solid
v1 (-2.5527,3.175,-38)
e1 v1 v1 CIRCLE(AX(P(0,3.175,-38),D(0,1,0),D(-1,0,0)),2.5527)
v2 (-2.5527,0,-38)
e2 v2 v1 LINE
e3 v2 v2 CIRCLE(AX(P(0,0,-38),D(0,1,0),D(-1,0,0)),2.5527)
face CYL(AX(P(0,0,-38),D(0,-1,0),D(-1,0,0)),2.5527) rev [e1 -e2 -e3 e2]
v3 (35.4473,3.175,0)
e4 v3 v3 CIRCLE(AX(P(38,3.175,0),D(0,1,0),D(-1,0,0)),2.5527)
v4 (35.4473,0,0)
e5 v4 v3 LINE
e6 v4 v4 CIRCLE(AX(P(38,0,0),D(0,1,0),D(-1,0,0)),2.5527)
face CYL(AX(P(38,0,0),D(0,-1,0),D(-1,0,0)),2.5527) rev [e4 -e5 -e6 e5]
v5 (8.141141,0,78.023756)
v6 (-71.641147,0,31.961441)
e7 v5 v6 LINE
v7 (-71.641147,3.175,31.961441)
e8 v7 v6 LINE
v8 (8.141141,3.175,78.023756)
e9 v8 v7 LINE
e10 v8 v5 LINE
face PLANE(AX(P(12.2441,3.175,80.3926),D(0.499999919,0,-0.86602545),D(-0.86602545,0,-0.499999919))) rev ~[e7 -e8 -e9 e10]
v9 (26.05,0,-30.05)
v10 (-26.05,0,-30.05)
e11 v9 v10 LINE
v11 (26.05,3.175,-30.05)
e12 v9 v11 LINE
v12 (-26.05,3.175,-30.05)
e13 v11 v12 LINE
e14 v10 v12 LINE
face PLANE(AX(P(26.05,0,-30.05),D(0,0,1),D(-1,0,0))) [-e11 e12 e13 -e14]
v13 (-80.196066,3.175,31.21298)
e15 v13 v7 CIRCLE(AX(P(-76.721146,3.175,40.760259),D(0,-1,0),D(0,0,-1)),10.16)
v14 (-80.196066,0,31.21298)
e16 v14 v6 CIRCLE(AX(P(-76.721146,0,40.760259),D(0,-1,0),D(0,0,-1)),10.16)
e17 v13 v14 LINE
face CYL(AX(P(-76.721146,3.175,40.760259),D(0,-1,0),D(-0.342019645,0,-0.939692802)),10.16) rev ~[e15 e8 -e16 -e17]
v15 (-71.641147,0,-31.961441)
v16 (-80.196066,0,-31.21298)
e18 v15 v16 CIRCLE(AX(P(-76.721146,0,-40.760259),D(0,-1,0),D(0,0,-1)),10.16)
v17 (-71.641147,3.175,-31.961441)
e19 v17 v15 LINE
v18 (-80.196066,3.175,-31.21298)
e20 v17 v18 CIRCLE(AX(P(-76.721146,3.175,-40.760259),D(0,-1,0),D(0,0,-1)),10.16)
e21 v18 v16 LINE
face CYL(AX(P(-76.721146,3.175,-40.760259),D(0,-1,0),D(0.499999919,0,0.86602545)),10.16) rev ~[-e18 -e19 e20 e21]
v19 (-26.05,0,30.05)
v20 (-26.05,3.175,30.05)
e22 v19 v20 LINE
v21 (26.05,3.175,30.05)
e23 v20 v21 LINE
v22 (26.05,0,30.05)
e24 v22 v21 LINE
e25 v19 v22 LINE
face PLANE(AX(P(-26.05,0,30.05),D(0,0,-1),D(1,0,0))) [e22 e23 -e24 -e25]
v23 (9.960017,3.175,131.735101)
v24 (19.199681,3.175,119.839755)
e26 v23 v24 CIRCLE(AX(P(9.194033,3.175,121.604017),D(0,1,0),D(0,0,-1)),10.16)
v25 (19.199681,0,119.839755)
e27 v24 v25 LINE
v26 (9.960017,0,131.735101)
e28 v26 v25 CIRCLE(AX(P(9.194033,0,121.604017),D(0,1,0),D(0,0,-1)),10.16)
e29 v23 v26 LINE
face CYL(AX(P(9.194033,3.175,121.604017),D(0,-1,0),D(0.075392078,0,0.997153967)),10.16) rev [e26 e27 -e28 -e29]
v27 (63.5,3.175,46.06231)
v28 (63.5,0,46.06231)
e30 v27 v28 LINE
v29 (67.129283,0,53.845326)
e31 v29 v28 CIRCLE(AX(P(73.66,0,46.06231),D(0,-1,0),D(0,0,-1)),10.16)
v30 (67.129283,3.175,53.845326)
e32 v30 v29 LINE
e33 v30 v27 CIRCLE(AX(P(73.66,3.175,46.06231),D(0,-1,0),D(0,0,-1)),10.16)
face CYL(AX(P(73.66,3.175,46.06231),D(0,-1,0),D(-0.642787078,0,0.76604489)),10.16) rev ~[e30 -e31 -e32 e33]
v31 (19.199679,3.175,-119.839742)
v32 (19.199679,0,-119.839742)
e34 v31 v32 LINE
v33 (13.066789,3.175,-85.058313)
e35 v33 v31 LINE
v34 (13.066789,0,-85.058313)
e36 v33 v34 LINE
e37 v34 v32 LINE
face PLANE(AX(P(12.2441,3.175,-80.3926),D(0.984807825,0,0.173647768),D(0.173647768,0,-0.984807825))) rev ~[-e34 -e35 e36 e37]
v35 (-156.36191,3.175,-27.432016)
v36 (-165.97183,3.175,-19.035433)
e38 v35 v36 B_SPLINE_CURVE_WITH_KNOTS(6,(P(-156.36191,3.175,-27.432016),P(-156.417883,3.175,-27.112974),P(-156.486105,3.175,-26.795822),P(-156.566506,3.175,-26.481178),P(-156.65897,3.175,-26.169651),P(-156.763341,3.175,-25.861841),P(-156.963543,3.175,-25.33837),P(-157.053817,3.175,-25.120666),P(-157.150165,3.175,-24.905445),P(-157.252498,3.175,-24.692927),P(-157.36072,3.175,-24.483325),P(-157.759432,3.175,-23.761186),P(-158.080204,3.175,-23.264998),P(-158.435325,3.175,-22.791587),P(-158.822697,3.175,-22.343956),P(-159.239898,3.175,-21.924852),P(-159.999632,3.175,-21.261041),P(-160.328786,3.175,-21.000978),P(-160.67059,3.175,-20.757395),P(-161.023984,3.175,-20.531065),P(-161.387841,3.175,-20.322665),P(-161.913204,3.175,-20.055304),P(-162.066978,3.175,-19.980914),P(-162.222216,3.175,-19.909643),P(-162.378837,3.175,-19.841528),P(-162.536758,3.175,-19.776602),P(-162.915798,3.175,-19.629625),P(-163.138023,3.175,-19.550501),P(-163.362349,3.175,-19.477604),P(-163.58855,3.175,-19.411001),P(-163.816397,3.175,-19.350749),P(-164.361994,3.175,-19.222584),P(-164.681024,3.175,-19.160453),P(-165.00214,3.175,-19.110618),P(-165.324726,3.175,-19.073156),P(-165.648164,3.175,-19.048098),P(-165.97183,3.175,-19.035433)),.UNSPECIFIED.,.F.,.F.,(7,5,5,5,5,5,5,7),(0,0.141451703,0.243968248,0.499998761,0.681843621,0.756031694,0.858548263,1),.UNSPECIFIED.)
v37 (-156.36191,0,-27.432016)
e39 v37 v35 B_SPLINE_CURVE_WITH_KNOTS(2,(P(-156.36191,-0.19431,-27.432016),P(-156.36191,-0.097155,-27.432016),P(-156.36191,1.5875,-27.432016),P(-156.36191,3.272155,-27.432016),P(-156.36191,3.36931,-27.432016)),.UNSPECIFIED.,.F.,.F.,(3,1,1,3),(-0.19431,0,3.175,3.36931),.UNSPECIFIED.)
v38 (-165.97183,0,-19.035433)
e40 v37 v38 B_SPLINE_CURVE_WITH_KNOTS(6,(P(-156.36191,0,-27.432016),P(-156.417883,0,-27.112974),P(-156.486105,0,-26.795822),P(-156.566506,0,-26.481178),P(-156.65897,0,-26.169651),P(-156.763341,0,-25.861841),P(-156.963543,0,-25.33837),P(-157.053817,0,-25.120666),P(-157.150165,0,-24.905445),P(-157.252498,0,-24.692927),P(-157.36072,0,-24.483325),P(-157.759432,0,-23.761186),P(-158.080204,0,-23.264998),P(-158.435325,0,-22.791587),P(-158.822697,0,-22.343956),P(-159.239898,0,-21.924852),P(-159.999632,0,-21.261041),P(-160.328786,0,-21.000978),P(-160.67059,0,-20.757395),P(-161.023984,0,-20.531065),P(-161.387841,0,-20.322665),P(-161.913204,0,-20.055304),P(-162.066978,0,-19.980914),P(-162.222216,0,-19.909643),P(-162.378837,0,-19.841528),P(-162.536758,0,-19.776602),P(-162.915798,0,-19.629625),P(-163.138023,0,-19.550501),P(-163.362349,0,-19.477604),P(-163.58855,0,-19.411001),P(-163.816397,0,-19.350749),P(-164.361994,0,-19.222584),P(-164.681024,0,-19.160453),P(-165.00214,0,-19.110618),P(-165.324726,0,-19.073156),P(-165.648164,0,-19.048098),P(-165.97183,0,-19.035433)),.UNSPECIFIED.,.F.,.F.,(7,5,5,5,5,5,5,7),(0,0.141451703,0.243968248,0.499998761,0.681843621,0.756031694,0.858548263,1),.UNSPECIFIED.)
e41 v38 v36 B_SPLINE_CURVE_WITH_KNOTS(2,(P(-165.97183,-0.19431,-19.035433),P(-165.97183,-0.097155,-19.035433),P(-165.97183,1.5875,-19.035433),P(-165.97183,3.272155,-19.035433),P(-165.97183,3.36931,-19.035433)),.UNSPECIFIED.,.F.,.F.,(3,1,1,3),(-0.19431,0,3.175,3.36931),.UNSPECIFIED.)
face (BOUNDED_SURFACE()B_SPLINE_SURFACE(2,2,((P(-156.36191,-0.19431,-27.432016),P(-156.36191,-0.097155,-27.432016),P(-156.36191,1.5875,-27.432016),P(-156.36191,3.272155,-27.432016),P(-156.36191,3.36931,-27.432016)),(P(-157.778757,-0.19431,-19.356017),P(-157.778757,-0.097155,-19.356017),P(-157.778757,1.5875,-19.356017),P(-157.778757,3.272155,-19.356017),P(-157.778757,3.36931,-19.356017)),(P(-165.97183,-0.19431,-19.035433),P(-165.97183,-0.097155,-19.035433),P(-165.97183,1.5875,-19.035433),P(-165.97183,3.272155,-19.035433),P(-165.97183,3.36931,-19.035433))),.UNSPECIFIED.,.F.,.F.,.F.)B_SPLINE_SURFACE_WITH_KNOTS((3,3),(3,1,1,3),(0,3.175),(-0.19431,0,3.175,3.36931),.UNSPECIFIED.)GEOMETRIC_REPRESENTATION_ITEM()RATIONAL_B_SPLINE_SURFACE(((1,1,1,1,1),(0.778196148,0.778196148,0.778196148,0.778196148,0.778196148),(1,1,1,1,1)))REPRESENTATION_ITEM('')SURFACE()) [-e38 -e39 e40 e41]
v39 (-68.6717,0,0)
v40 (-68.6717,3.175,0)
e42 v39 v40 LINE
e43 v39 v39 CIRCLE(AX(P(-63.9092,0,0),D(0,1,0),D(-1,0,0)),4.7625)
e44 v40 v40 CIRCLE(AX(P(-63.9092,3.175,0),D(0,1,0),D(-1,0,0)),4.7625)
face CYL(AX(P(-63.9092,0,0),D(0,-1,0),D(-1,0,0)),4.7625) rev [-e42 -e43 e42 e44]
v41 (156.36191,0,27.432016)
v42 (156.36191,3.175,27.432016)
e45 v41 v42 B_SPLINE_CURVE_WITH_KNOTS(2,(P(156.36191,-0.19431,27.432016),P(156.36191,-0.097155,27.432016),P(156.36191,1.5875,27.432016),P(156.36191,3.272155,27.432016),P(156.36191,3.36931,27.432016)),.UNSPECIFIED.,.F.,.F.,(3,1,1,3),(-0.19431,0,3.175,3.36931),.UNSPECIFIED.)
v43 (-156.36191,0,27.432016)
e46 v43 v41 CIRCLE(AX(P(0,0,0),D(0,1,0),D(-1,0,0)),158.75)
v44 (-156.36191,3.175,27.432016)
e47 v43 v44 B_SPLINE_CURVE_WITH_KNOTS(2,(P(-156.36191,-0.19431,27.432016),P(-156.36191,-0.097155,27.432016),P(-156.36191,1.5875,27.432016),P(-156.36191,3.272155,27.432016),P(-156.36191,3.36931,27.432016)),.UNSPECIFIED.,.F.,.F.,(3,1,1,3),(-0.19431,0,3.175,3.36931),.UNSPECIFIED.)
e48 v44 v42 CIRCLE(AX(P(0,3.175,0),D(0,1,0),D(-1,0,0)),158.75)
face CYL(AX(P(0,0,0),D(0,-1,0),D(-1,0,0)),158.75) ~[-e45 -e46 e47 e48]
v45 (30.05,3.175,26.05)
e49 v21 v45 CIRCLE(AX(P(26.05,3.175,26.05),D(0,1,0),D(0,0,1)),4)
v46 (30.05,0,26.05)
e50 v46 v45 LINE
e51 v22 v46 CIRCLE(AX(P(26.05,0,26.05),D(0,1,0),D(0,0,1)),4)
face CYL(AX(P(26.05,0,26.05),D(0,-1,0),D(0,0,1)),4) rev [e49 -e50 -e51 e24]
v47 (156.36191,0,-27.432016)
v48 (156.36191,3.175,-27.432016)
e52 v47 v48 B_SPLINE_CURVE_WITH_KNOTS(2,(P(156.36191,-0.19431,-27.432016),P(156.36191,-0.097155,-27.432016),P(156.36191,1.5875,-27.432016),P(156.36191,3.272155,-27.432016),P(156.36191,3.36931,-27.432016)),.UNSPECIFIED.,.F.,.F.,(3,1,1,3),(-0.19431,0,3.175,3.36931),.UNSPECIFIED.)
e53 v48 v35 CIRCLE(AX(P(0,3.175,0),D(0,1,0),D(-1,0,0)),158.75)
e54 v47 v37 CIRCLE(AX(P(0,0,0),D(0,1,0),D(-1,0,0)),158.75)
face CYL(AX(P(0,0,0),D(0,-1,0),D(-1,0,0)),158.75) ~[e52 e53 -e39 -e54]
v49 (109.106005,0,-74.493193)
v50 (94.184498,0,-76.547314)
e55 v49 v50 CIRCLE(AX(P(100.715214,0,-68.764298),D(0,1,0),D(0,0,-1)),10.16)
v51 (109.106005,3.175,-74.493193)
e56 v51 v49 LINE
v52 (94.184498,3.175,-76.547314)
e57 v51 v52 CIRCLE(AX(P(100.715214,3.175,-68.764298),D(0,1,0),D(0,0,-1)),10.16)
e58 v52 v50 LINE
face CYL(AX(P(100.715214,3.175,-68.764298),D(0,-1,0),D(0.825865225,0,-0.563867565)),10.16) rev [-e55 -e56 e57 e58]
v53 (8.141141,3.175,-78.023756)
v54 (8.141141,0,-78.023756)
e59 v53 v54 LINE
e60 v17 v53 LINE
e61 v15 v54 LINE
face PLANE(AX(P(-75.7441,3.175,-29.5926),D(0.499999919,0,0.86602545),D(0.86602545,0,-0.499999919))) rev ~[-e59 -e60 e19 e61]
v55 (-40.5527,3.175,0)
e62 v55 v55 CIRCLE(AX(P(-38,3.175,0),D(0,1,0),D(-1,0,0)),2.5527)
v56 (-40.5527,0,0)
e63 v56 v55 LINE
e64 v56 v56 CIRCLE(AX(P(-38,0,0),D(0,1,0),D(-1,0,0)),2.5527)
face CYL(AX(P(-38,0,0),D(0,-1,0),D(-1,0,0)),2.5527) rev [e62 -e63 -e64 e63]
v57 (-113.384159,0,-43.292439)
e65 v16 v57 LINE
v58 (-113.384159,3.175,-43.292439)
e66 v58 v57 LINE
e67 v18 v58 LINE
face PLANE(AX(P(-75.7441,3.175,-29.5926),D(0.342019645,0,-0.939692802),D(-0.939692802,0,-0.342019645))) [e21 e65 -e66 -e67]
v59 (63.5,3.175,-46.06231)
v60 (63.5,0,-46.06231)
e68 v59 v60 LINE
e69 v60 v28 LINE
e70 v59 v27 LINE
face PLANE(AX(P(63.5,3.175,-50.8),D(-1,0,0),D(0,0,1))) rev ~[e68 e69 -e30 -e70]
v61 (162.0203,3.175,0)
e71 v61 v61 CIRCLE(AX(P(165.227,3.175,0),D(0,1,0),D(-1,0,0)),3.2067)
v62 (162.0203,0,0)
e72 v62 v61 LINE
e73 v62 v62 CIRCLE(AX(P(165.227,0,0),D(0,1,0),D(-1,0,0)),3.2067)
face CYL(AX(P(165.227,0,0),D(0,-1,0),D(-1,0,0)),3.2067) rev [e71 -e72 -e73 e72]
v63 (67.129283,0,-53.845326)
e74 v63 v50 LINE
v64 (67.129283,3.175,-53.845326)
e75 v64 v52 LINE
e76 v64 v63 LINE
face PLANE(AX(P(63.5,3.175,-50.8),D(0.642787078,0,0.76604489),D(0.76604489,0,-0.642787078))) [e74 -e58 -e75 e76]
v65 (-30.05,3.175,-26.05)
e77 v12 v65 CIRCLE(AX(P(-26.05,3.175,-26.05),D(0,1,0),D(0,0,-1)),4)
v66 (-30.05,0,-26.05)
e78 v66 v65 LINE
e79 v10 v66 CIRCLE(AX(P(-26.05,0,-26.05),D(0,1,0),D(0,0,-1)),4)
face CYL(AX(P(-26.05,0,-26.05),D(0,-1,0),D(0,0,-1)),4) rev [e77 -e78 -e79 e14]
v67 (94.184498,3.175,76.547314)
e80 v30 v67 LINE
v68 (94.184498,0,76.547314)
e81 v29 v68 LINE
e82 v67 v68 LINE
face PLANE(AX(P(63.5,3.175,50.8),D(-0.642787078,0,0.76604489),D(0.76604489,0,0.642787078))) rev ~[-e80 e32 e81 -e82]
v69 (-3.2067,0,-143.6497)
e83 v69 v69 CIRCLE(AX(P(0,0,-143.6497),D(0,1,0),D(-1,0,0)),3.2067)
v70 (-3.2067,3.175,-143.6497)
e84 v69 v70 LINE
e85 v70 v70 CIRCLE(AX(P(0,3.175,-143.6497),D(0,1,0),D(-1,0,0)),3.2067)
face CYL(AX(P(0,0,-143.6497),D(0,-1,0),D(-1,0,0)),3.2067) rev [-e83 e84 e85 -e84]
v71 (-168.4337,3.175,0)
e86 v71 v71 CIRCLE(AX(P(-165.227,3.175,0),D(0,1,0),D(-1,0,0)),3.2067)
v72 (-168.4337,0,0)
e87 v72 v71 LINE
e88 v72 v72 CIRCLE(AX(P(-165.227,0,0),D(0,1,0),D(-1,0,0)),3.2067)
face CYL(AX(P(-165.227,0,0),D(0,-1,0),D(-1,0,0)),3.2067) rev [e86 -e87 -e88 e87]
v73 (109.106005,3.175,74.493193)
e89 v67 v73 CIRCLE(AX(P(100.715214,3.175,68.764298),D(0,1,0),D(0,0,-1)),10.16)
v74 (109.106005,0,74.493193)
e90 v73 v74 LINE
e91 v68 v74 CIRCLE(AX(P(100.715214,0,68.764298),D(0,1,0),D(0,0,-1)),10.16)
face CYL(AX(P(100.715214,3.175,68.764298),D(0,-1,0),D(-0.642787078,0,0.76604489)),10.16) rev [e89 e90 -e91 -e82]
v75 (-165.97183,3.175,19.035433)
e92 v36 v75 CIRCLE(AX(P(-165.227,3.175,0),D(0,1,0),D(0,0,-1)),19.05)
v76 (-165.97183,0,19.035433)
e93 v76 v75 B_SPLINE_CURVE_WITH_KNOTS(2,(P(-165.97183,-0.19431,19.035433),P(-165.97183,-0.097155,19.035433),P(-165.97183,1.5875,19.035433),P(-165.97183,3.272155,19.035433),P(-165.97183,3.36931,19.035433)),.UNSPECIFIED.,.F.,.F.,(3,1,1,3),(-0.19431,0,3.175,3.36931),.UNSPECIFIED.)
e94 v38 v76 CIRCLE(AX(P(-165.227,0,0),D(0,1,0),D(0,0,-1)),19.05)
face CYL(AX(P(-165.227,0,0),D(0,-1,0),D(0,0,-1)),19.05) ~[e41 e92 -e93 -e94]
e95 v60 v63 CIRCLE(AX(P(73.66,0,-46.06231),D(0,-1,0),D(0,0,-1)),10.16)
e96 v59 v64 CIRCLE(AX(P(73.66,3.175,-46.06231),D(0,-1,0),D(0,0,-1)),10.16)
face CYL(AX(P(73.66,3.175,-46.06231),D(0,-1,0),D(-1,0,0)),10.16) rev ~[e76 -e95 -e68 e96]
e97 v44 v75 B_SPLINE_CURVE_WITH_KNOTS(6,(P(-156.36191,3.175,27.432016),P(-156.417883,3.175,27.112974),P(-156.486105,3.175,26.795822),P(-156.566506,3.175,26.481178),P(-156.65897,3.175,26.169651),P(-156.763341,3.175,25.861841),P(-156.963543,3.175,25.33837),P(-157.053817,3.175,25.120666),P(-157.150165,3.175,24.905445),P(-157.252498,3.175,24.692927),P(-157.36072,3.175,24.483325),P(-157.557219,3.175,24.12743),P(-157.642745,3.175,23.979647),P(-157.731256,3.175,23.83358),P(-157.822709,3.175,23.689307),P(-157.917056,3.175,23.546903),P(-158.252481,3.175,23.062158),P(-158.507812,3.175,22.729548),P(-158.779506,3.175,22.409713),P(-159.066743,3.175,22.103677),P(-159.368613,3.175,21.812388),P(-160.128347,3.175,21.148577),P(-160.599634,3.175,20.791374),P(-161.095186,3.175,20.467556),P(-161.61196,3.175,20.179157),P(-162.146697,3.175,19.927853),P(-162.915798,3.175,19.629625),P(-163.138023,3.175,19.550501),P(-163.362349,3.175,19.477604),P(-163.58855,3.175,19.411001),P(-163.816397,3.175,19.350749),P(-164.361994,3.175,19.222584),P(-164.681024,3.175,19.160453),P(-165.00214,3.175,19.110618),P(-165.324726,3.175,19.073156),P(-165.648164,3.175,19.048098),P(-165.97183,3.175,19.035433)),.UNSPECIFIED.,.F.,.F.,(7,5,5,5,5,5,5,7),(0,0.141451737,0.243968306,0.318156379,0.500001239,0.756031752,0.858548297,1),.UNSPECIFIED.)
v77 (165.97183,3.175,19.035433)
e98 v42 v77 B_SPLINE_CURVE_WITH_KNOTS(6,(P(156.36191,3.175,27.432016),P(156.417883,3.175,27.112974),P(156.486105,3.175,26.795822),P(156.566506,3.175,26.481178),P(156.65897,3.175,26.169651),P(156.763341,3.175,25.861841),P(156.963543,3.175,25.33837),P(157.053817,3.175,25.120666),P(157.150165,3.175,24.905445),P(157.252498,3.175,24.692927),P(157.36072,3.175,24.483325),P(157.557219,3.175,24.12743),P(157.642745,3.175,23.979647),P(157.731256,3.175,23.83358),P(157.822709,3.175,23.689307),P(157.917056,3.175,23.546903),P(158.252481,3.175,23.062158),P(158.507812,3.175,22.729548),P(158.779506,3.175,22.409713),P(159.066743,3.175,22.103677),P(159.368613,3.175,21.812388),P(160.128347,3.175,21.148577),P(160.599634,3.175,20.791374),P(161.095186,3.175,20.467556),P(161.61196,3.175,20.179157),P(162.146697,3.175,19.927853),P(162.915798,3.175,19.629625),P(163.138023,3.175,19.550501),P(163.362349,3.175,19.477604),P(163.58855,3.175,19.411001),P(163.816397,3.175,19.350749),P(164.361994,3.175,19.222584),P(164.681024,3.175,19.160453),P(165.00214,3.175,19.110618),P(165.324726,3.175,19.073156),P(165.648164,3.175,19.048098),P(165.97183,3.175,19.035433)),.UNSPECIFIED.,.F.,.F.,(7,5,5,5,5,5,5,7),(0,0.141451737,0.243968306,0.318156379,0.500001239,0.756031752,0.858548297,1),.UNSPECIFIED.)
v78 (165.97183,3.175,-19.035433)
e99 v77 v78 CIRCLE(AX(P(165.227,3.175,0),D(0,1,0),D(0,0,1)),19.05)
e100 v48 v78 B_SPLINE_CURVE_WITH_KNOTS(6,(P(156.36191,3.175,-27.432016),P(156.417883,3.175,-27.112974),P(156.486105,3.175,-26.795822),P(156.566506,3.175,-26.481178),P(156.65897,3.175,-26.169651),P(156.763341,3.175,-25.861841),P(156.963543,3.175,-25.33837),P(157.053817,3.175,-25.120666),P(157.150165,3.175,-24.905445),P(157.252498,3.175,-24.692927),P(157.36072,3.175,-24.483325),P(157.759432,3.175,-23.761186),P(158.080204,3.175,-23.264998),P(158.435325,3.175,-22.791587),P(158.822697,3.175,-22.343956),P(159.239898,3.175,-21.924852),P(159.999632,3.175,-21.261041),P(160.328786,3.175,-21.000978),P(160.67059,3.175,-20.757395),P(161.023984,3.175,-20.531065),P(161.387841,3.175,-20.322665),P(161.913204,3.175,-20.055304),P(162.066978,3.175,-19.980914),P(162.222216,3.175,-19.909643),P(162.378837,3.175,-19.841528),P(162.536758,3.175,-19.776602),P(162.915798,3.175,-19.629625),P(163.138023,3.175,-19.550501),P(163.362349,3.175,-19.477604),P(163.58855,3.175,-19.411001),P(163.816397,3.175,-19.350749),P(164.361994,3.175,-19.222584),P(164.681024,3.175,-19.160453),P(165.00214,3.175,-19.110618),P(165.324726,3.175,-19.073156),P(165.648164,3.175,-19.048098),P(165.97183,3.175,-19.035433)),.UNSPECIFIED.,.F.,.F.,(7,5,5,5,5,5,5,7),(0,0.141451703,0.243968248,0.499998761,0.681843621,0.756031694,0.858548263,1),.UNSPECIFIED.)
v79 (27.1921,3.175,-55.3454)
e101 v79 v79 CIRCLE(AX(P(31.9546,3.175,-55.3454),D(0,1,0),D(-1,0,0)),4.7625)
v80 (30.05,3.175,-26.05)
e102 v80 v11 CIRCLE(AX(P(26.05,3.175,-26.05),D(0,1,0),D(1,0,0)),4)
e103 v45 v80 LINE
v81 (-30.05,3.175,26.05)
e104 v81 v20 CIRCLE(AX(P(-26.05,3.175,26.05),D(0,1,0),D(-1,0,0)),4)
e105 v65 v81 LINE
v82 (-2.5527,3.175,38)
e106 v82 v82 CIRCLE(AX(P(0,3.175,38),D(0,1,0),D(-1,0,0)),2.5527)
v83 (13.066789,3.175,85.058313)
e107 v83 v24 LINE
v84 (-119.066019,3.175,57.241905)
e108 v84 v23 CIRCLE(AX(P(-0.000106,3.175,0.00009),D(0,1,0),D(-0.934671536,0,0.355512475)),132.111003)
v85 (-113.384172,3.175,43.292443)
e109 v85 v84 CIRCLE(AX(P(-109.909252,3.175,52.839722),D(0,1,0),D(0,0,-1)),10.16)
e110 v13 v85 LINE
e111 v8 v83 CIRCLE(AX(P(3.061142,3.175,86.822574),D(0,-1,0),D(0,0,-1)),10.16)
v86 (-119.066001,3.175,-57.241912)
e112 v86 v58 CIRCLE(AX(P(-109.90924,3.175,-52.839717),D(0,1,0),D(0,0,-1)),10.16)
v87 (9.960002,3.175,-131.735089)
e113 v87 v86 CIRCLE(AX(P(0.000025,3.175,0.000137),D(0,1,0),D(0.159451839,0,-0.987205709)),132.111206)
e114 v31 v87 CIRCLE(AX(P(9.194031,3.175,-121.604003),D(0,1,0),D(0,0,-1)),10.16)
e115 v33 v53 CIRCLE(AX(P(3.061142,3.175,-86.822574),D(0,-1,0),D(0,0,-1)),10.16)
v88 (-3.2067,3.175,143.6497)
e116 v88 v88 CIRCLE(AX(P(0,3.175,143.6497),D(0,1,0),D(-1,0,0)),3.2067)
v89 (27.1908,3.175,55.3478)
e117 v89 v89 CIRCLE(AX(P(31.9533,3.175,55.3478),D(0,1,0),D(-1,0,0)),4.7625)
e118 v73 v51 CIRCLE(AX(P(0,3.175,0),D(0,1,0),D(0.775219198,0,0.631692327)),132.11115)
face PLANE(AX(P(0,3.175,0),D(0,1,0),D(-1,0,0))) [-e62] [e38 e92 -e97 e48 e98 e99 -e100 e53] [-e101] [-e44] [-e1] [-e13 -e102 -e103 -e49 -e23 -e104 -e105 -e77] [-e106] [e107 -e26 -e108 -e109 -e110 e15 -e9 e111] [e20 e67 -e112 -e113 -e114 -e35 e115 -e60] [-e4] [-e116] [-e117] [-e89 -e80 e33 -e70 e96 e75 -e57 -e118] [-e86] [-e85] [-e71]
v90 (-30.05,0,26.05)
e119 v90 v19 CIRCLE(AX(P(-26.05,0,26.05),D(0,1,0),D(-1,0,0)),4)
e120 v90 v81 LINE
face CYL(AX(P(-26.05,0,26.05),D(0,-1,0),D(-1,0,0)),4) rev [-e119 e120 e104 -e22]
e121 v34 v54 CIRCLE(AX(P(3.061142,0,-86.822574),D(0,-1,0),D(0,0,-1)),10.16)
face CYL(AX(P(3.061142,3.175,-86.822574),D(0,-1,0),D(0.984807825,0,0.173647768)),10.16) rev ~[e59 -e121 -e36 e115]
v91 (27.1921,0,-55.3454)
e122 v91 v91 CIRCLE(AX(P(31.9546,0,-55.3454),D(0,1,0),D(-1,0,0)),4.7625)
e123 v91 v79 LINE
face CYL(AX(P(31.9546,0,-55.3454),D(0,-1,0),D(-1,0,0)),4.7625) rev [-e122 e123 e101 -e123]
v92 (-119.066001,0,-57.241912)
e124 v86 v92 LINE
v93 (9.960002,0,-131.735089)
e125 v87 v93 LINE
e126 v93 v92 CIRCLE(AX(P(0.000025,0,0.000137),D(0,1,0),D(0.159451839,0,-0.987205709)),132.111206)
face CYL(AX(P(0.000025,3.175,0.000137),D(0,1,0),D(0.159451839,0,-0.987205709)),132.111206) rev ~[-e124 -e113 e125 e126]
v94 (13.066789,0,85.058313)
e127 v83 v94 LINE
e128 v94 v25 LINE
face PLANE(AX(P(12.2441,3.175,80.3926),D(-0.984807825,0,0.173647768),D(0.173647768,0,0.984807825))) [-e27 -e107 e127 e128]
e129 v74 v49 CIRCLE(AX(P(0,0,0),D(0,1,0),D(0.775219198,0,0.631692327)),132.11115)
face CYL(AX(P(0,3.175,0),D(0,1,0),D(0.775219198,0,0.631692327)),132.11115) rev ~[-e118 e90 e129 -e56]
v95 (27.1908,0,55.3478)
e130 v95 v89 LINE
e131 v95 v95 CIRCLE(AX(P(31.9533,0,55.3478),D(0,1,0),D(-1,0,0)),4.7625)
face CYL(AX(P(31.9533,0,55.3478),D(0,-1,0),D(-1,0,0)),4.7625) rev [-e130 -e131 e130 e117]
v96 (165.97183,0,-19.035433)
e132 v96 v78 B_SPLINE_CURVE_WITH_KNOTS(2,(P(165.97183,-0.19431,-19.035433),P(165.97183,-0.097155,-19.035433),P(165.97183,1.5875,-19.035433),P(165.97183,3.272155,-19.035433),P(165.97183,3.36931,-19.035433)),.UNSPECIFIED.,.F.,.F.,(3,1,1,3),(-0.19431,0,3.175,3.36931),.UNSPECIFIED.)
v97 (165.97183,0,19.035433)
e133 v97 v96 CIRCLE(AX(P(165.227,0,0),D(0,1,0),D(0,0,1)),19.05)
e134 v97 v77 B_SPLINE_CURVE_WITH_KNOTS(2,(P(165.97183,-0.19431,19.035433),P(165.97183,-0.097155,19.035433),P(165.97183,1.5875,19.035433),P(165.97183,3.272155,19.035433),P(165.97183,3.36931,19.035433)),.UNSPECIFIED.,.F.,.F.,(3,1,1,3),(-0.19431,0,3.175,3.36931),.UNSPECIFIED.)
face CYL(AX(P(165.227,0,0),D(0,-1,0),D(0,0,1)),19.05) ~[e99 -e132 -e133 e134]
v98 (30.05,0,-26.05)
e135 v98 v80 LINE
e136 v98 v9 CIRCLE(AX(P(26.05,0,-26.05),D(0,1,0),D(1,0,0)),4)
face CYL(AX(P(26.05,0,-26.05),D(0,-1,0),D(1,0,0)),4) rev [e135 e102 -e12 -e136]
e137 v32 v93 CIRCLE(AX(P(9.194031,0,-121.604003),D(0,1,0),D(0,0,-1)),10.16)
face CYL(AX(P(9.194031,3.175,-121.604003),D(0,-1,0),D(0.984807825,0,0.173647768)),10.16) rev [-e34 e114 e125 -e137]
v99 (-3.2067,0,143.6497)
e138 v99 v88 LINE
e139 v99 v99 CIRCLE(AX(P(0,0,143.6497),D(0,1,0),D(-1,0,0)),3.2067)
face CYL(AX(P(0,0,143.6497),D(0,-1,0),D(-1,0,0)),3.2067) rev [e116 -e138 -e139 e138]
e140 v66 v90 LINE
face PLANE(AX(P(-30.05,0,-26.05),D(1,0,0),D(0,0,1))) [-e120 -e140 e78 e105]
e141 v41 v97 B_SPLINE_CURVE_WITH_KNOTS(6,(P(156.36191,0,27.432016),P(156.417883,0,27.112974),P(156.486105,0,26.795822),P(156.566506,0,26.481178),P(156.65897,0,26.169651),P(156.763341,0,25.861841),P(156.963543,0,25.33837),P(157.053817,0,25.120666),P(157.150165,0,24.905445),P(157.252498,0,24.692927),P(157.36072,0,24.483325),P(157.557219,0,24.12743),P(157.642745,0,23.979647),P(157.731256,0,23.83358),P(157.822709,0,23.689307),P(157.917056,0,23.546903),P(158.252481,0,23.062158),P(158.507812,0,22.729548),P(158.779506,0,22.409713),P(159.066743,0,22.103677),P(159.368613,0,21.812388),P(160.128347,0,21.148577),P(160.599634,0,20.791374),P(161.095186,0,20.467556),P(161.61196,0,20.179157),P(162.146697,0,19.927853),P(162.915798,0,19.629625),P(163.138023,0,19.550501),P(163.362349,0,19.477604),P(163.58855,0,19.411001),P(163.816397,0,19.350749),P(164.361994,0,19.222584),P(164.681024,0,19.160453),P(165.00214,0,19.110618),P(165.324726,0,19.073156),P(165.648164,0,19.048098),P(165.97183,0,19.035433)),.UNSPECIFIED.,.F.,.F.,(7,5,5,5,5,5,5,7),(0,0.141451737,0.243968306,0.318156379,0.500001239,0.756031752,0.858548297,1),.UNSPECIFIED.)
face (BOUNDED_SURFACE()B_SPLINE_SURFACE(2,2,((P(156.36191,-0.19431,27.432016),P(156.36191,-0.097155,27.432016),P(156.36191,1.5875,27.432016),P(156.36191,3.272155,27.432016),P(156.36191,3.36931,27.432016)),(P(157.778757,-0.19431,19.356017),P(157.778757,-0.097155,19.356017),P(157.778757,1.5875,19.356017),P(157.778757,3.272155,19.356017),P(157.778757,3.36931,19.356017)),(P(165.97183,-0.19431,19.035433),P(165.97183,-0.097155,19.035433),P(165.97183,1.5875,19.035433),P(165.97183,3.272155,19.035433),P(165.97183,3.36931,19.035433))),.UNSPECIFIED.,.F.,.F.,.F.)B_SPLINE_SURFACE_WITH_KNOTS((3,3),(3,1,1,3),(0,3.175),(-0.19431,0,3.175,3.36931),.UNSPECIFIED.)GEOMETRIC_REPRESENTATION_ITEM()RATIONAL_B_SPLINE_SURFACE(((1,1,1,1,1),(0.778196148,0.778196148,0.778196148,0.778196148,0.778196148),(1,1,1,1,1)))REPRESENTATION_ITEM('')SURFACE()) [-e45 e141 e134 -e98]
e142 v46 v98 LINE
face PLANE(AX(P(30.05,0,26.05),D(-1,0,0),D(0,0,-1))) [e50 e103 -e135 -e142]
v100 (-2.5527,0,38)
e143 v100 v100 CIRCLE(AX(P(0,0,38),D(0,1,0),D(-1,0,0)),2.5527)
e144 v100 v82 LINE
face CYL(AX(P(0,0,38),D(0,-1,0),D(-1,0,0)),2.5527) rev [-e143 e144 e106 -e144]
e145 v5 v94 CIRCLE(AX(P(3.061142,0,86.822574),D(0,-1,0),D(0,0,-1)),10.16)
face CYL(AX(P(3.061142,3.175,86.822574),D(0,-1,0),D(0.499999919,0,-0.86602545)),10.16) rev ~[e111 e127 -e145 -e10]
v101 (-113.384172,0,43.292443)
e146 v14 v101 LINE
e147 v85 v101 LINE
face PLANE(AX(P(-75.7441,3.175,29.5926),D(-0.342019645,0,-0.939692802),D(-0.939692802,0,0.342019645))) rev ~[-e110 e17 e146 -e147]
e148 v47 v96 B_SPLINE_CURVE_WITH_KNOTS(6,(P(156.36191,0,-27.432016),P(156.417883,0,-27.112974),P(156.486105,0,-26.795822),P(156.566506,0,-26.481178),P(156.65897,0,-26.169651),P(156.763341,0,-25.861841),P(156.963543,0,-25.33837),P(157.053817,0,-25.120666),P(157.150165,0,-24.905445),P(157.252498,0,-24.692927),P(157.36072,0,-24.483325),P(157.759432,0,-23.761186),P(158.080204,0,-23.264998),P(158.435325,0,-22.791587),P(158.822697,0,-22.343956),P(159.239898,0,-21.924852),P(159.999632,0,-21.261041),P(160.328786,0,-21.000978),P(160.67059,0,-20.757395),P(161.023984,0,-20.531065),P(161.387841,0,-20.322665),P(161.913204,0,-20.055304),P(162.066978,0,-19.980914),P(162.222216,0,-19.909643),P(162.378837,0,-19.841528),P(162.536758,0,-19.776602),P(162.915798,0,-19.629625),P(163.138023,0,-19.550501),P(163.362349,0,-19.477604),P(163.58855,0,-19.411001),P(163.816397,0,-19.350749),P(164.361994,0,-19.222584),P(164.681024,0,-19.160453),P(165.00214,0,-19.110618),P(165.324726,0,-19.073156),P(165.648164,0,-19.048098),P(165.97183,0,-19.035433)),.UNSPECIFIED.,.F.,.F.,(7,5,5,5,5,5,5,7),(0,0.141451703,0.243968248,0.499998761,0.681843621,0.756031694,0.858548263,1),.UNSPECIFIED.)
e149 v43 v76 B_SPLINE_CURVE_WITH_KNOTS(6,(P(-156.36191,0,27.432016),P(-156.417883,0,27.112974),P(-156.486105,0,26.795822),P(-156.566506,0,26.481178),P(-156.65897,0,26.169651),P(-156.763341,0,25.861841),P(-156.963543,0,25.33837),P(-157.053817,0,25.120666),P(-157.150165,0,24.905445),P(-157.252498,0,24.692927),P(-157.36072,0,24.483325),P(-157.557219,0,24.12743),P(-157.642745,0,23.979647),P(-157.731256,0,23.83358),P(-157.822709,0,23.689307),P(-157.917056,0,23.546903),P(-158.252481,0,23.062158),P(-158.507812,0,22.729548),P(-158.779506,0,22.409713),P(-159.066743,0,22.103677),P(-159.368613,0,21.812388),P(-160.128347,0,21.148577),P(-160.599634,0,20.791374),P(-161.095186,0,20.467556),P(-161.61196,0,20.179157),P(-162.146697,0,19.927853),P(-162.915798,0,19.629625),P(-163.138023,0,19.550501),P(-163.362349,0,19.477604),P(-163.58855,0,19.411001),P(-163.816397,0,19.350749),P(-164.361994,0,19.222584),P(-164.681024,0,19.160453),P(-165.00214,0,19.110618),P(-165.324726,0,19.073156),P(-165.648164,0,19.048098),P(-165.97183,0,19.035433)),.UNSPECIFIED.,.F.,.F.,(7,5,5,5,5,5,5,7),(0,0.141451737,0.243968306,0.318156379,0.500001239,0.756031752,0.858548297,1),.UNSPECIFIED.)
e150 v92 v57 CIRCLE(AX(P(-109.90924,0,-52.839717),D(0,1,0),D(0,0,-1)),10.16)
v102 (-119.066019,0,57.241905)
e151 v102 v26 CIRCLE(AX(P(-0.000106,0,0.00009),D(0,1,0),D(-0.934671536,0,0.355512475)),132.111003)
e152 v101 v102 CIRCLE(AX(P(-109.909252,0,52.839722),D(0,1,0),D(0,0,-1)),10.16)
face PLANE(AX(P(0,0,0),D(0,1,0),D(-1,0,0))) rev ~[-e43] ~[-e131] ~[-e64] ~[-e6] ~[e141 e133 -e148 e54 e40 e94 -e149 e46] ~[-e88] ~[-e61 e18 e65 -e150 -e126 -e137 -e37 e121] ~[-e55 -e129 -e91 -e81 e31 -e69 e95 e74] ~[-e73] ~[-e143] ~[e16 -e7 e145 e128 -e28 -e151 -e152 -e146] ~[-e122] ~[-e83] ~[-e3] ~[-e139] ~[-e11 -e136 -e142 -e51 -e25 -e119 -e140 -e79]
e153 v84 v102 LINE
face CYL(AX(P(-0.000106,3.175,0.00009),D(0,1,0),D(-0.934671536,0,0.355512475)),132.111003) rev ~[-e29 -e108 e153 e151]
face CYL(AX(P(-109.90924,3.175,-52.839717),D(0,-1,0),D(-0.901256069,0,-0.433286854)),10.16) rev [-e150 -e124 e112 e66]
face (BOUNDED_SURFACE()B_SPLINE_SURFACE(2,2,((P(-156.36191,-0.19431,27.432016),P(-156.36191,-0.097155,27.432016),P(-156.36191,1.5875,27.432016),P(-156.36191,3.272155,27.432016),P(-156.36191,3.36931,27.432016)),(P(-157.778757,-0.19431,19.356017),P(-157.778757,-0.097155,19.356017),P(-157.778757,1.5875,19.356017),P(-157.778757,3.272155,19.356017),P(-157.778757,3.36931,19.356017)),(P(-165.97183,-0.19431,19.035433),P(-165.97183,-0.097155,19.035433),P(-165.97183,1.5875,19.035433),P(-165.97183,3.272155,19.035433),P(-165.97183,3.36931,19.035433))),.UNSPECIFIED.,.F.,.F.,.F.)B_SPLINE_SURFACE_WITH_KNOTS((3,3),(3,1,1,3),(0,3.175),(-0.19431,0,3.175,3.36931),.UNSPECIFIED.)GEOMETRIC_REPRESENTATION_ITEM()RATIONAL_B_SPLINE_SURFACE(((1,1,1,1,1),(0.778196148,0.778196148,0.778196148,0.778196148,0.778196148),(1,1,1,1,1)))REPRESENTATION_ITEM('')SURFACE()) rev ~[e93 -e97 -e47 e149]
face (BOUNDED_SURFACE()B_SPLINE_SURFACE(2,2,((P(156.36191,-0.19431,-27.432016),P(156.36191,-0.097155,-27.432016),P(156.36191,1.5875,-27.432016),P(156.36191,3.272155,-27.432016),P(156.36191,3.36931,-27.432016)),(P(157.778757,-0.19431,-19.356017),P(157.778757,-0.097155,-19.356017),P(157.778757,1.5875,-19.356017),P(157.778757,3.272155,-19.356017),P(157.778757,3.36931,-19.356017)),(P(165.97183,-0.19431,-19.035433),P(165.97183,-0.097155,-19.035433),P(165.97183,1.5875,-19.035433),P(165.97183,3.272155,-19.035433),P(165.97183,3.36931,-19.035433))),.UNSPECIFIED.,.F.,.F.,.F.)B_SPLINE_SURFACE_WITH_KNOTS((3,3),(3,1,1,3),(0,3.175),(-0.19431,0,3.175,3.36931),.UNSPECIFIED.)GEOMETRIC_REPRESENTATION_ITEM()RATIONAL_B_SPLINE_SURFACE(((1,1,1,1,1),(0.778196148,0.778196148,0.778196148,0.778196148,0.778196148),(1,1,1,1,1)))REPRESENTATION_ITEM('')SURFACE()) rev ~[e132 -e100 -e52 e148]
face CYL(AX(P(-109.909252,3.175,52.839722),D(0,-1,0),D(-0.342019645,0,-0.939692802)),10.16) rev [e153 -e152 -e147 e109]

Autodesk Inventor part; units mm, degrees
ref_plane "YZ Plane" through (0, 0, 0) normal (1, 0, 0) x (0, 1, 0)
ref_plane "XZ Plane" through (0, 0, 0) normal (0, 1, 0) x (-1, 0, 0)
ref_plane "XY Plane" through (0, 0, 0) normal (0, 0, 1) x (1, 0, 0)
sketch "Sketch1" plane through (0, 0, 0) normal (0, 1, 0) x (-1, 0, 0)
  circle A0 centre (0, 0) radius 158.75
  line L0 (26.05, 30.05) -> (-26.05, 30.05)
  line L1 (-30.05, 26.05) -> (-30.05, -26.05)
  line L2 (-26.05, -30.05) -> (26.05, -30.05)
  line L3 (30.05, -26.05) -> (30.05, 26.05)
  arc A1 (30.05, 26.05) -> (26.05, 30.05) centre (26.05, 26.05) ccw
  arc A2 (26.05, -30.05) -> (30.05, -26.05) centre (26.05, -26.05) ccw
  arc A3 (-30.05, -26.05) -> (-26.05, -30.05) centre (-26.05, -26.05) ccw
  arc A4 (-26.05, 30.05) -> (-30.05, 26.05) centre (-26.05, 26.05) ccw
  circle A5 centre (38, 0) radius 2.5527
  circle A6 centre (0, -38) radius 2.5527
  circle A7 centre (-38, 0) radius 2.5527
  circle A8 centre (0, 38) radius 2.5527
  circle A9 centre (63.9092, 0) radius 4.7625
  circle A10 centre (-31.9546, -55.3454) radius 4.7625
  circle A11 centre (0, 0) radius 63.9092 construction
  circle A12 centre (0, 143.6497) radius 3.2067
  circle A13 centre (0, -143.6497) radius 3.2067
  line L4 (157.6029, 19.05) -> (165.227, 19.05)
  line L5 (165.227, 19.05) -> (165.227, -19.05) construction
  line L6 (165.227, -19.05) -> (157.6029, -19.05)
  line L7 (157.6029, -17.4578) -> (157.6029, 19.05) construction
  arc A14 (165.227, -19.05) -> (165.227, 19.05) centre (165.227, 0) ccw
  circle A15 centre (165.227, 0) radius 3.2067
  line L8 (0, -158.75) -> (0, 158.75) construction
  line L9 (-157.6029, 19.05) -> (-165.227, 19.05)
  line L10 (-165.227, -19.05) -> (-157.6029, -19.05)
  arc A16 (-165.227, 19.05) -> (-165.227, -19.05) centre (-165.227, 0) ccw
  circle A17 centre (-165.227, 0) radius 3.2067
  circle A18 centre (-31.9533, 55.3478) radius 4.7625
  point P0 (30.05, 30.05)
  point P1 (-30.05, 30.05)
  point P2 (30.05, -30.05)
  dimension "d0" = 317.5
  dimension "d1" = 30.05
  dimension "d2" = 60.1
  dimension "d3" = 60.1
  dimension "d4" = 30.05
  dimension "d5" = 4
  dimension "d6" = 4
  dimension "d7" = 5.1054
  dimension "d8" = 5.1054
  dimension "d9" = 5.1054
  dimension "d10" = 5.1054
  dimension "d11" = 76
  dimension "d12" = 38
  dimension "d13" = 76
  dimension "d14" = 38
  dimension "d15" = 9.525
  dimension "d17" = 110.6932
  dimension "d20" = 9.525
  dimension "d24" = 6.4135
  dimension "d25" = 6.4135
  dimension "d26" = 287.2994
  dimension "d27" = 143.6497
  dimension "d30" = 38.1
  dimension "d31" = 6.4135
  dimension "d33" = 330.454
  dimension "d38" = 110.6932
  dimension "d39" = 110.6932
  dimension "d41" = 127.8184
extrude "Extrusion1" add sketch "Sketch1" along normal blind 3.175
fillet "Fillet1" radius 10.16 4 edges at (-157.6029, 1.5875, 19.05) (-157.6029, 1.5875, -19.05) (157.6029, 1.5875, -19.05) (157.6029, 1.5875, 19.05)
sketch "Sketch2" plane through (0, 3.175, 0) normal (0, 1, 0) x (1, 0, 0)
  line L0 (63.5, 50.8) -> (102.4151, 83.4536)
  line L1 (63.5, 50.8) -> (63.5, -50.8)
  line L2 (63.5, -50.8) -> (102.4151, -83.4536)
  arc A0 (102.4151, -83.4536) -> (102.4151, 83.4536) centre (0, 0) ccw
  line L3 (-75.7441, 29.5926) -> (-123.4805, 46.9672)
  line L4 (12.2441, 80.3926) -> (21.0654, 130.4208)
  line L5 (-75.7441, 29.5926) -> (12.2441, 80.3926)
  arc A1 (21.0654, 130.4208) -> (-123.4805, 46.9672) centre (0, 0) ccw
  line L6 (12.2441, -80.3926) -> (21.0654, -130.4208)
  line L7 (-75.7441, -29.5926) -> (-123.4805, -46.9672)
  line L8 (12.2441, -80.3926) -> (-75.7441, -29.5926)
  arc A2 (-123.4805, -46.9672) -> (21.0654, -130.4208) centre (0, 0) ccw
  point P0 (0, 0)
  dimension "d42" = 101.6
  dimension "d43" = 50.8
  dimension "d44" = 130
  dimension "d45" = 130
  dimension "d46" = 50.8
  dimension "d47" = 50.8
  dimension "d48" = 63.5
  dimension "d49" = 0
  dimension "d52" = 360
extrude "Extrusion2" cut sketch "Sketch2" against normal blind 6.35
fillet "Fillet2" radius 10.16 6 edges at (-123.4805, 1.5875, 46.9672) (21.0654, 1.5875, -130.4208) (102.4151, 1.5875, -83.4536) (21.0654, 1.5875, 130.4208) (102.4151, 1.5875, 83.4536) (-123.4805, 1.5875, -46.9672)
fillet "Fillet3" radius 10.16 6 edges at (-75.7441, 1.5875, -29.5926) (63.5, 1.5875, -50.8) (12.2441, 1.5875, 80.3926) (-75.7441, 1.5875, 29.5926) (63.5, 1.5875, 50.8) (12.2441, 1.5875, -80.3926)
sketch "Sketch3" plane through (0, 3.175, 0) normal (0, 1, 0) x (1, 0, 0)
  arc A0 (156.3619, 27.432) -> (-156.3619, 27.432) centre (0, 0) ccw projected
  line L0 (82.2664, 135.7711) -> (76.6274, 126.5262)
  line L1 (71.6492, 125.9572) -> (67.3261, 130.3685)
  line L2 (62.348, 129.7996) -> (52.2012, 113.1643)
  line L3 (54.9118, 108.336) -> (59.8766, 108.336)
  line L4 (62.5872, 103.5077) -> (59.6212, 98.6449)
  line L5 (62.1502, 93.8218) -> (68.5548, 93.4551)
  line L6 (70.903, 88.3667) -> (56.7738, 69.7364)
  line L7 (51.3067, 70.4499) -> (48.2668, 77.8597)
  line L8 (43.6958, 79.3771) -> (21.3897, 65.9934)
  line L9 (19.9367, 64.015) -> (15.5672, 45.89)
  line L10 (18.312, 41.9894) -> (42.8589, 39.3314)
  line L11 (45.5063, 35.1047) -> (41.1925, 23.0559)
  line L12 (39.4084, 21.1887) -> (30.05, 17.3494)
  line L13 (30.05, 26.05) -> (30.05, -26.05) projected
  arc A1 (71.6492, 125.9572) -> (76.6274, 126.5262) centre (73.9169, 128.1795) ccw
  arc A2 (67.3261, 130.3685) -> (62.348, 129.7996) centre (65.0585, 128.1462) ccw
  arc A3 (52.2012, 113.1643) -> (54.9118, 108.336) centre (54.9118, 111.511) ccw
  arc A4 (70.903, 88.3667) -> (68.5548, 93.4551) centre (68.3733, 90.2853) ccw
  arc A5 (62.5872, 103.5077) -> (59.8766, 108.336) centre (59.8766, 105.161) ccw
  arc A6 (51.3067, 70.4499) -> (56.7738, 69.7364) centre (54.2441, 71.655) ccw
  arc A7 (48.2668, 77.8597) -> (43.6958, 79.3771) centre (45.3294, 76.6546) ccw
  arc A8 (21.3897, 65.9934) -> (19.9367, 64.015) centre (23.0232, 63.2709) ccw
  arc A9 (15.5672, 45.89) -> (18.312, 41.9894) centre (18.6538, 45.1459) ccw
  arc A10 (45.5063, 35.1047) -> (42.8589, 39.3314) centre (42.5171, 36.1749) ccw
  arc A11 (39.4084, 21.1887) -> (41.1925, 23.0559) centre (38.2034, 24.1261) ccw
  arc A12 (59.6212, 98.6449) -> (62.1502, 93.8218) centre (62.3317, 96.9916) ccw
  line L14 (-157.7126, 3.3351) -> (-147.8886, 3.0982)
  line L15 (-144.9068, -0.9286) -> (-146.5655, -6.8781)
  line L16 (-143.5837, -10.9049) -> (-124.1038, -11.3746)
  line L17 (-121.2776, -6.613) -> (-123.76, -2.3133)
  arc A13 (-120.9339, 2.4483) -> (-123.76, -2.3133) centre (-121.0104, -0.7258) ccw
  arc A14 (-124.1038, -11.3746) -> (-121.2776, -6.613) centre (-124.0272, -8.2005) ccw
  arc A15 (-144.9068, -0.9286) -> (-147.8886, 3.0982) centre (-147.9651, -0.0759) ccw
  arc A16 (-146.5655, -6.8781) -> (-143.5837, -10.9049) centre (-143.5072, -7.7308) ccw
  line L18 (-120.9339, 2.4483) -> (-115.2396, 2.311)
  line L19 (-112.3272, 6.9128) -> (-115.2119, 12.6427)
  line L20 (-111.9793, 17.2205) -> (-88.7805, 14.2994)
  line L21 (-86.6648, 9.2079) -> (-91.5618, 2.8704)
  arc A17 (-111.9793, 17.2205) -> (-115.2119, 12.6427) centre (-112.376, 14.0704) ccw
  arc A18 (-115.2396, 2.311) -> (-112.3272, 6.9128) centre (-115.1631, 5.4851) ccw
  arc A19 (-91.5618, 2.8704) -> (-90.5905, -1.8469) centre (-89.0495, 0.9291) ccw
  arc A20 (-86.6648, 9.2079) -> (-88.7805, 14.2994) centre (-89.1771, 11.1492) ccw
  line L22 (-90.5905, -1.8469) -> (-67.8469, -14.4727)
  line L23 (-65.4069, -14.7418) -> (-47.5255, -9.4634)
  line L24 (-45.5199, -5.136) -> (-55.4915, 17.4512)
  line L25 (-53.1547, 21.8573) -> (-40.5633, 24.1458)
  line L26 (-38.0542, 23.5343) -> (-30.05, 17.3494)
  arc A21 (-67.8469, -14.4727) -> (-65.4069, -14.7418) centre (-66.3058, -11.6967) ccw
  arc A22 (-53.1547, 21.8573) -> (-55.4915, 17.4512) centre (-52.5869, 18.7334) ccw
  arc A23 (-47.5255, -9.4634) -> (-45.5199, -5.136) centre (-48.4244, -6.4183) ccw
  arc A24 (-38.0542, 23.5343) -> (-40.5633, 24.1458) centre (-39.9955, 21.022) ccw
  line L27 (76.448, -139.1304) -> (71.2612, -129.6244)
  line L28 (73.2575, -125.0287) -> (79.2394, -123.4904)
  line L29 (81.2357, -118.8947) -> (71.9026, -101.7897)
  line L30 (66.3658, -101.723) -> (63.8834, -106.0227)
  arc A25 (58.3467, -105.9559) -> (63.8834, -106.0227) centre (61.1338, -104.4352) ccw
  arc A26 (71.9026, -101.7897) -> (66.3658, -101.723) centre (69.1155, -103.3105) ccw
  arc A27 (73.2575, -125.0287) -> (71.2612, -129.6244) centre (74.0483, -128.1036) ccw
  arc A28 (79.2394, -123.4904) -> (81.2357, -118.8947) centre (78.4486, -120.4155) ccw
  line L31 (58.3467, -105.9559) -> (55.6184, -100.9559)
  line L32 (50.177, -100.7346) -> (46.6571, -106.0977)
  line L33 (41.0763, -105.5872) -> (32.0066, -84.0358)
  line L34 (35.3581, -79.6578) -> (43.2951, -80.7301)
  arc A29 (41.0763, -105.5872) -> (46.6571, -106.0977) centre (44.0027, -104.3556) ccw
  arc A30 (55.6184, -100.9559) -> (50.177, -100.7346) centre (52.8313, -102.4767) ccw
  arc A31 (43.2951, -80.7301) -> (46.8947, -77.5303) centre (43.7201, -77.5837) ccw
  arc A32 (35.3581, -79.6578) -> (32.0066, -84.0358) centre (34.933, -82.8043) ccw
  line L35 (46.8947, -77.5303) -> (46.4571, -51.5208)
  line L36 (45.4703, -49.2732) -> (31.9583, -36.4266)
  line L37 (27.2079, -36.8534) -> (12.6326, -56.7826)
  line L38 (7.6484, -56.9619) -> (-0.6292, -47.2018)
  line L39 (-1.3542, -44.7231) -> (0, -34.6988)
  arc A33 (46.4571, -51.5208) -> (45.4703, -49.2732) centre (43.2826, -51.5742) ccw
  arc A34 (7.6484, -56.9619) -> (12.6326, -56.7826) centre (10.0698, -54.9083) ccw
  arc A35 (31.9583, -36.4266) -> (27.2079, -36.8534) centre (29.7706, -38.7277) ccw
  arc A36 (-1.3542, -44.7231) -> (-0.6292, -47.2018) centre (1.7922, -45.1481) ccw
  line L40 (-30.05, -26.05) -> (-30.05, 26.05) projected
  line L41 (0, -34.6988) -> (0.628, -30.05)
  line L42 (26.05, -30.05) -> (-26.05, -30.05) projected
  line L43 (-159.5209, 3.9541) -> (-175.7168, 15.9018)
  arc A37 (-165.9718, 19.0354) -> (-165.9718, -19.0354) centre (-165.227, 0) ccw projected
  arc A38 (-159.5209, 3.9541) -> (-157.7126, 3.3351) centre (-157.6361, 6.5092) ccw
  point P0 (65.5323, 108.336)
  point P1 (56.8639, 94.1245)
  point P2 (-158.7145, 3.3592)
  point P3 (-126.5879, 2.5846)
  point P4 (-109.9462, 2.1833)
  point P5 (61.0556, -110.9206)
  point P6 (53.0823, -96.3078)
  dimension "d58" = 3.175
  dimension "d61" = 360
  dimension "d63" = 3.175
split "Split5" [suppressed]
split "Split8" [suppressed]
split "Split9" [suppressed]
combine "Combine1" [suppressed]
feature "Move Body1" [suppressed]
feature "Move Body2" [suppressed]
feature "Move Body3" [suppressed]
feature "Move Body4" [suppressed]
feature "Move Body5" [suppressed]
equation "\"d24\" = d25"
equation "\"d25\" = d31"
equation "\"d38\" = d17"
equation "\"d39\" = d17"
